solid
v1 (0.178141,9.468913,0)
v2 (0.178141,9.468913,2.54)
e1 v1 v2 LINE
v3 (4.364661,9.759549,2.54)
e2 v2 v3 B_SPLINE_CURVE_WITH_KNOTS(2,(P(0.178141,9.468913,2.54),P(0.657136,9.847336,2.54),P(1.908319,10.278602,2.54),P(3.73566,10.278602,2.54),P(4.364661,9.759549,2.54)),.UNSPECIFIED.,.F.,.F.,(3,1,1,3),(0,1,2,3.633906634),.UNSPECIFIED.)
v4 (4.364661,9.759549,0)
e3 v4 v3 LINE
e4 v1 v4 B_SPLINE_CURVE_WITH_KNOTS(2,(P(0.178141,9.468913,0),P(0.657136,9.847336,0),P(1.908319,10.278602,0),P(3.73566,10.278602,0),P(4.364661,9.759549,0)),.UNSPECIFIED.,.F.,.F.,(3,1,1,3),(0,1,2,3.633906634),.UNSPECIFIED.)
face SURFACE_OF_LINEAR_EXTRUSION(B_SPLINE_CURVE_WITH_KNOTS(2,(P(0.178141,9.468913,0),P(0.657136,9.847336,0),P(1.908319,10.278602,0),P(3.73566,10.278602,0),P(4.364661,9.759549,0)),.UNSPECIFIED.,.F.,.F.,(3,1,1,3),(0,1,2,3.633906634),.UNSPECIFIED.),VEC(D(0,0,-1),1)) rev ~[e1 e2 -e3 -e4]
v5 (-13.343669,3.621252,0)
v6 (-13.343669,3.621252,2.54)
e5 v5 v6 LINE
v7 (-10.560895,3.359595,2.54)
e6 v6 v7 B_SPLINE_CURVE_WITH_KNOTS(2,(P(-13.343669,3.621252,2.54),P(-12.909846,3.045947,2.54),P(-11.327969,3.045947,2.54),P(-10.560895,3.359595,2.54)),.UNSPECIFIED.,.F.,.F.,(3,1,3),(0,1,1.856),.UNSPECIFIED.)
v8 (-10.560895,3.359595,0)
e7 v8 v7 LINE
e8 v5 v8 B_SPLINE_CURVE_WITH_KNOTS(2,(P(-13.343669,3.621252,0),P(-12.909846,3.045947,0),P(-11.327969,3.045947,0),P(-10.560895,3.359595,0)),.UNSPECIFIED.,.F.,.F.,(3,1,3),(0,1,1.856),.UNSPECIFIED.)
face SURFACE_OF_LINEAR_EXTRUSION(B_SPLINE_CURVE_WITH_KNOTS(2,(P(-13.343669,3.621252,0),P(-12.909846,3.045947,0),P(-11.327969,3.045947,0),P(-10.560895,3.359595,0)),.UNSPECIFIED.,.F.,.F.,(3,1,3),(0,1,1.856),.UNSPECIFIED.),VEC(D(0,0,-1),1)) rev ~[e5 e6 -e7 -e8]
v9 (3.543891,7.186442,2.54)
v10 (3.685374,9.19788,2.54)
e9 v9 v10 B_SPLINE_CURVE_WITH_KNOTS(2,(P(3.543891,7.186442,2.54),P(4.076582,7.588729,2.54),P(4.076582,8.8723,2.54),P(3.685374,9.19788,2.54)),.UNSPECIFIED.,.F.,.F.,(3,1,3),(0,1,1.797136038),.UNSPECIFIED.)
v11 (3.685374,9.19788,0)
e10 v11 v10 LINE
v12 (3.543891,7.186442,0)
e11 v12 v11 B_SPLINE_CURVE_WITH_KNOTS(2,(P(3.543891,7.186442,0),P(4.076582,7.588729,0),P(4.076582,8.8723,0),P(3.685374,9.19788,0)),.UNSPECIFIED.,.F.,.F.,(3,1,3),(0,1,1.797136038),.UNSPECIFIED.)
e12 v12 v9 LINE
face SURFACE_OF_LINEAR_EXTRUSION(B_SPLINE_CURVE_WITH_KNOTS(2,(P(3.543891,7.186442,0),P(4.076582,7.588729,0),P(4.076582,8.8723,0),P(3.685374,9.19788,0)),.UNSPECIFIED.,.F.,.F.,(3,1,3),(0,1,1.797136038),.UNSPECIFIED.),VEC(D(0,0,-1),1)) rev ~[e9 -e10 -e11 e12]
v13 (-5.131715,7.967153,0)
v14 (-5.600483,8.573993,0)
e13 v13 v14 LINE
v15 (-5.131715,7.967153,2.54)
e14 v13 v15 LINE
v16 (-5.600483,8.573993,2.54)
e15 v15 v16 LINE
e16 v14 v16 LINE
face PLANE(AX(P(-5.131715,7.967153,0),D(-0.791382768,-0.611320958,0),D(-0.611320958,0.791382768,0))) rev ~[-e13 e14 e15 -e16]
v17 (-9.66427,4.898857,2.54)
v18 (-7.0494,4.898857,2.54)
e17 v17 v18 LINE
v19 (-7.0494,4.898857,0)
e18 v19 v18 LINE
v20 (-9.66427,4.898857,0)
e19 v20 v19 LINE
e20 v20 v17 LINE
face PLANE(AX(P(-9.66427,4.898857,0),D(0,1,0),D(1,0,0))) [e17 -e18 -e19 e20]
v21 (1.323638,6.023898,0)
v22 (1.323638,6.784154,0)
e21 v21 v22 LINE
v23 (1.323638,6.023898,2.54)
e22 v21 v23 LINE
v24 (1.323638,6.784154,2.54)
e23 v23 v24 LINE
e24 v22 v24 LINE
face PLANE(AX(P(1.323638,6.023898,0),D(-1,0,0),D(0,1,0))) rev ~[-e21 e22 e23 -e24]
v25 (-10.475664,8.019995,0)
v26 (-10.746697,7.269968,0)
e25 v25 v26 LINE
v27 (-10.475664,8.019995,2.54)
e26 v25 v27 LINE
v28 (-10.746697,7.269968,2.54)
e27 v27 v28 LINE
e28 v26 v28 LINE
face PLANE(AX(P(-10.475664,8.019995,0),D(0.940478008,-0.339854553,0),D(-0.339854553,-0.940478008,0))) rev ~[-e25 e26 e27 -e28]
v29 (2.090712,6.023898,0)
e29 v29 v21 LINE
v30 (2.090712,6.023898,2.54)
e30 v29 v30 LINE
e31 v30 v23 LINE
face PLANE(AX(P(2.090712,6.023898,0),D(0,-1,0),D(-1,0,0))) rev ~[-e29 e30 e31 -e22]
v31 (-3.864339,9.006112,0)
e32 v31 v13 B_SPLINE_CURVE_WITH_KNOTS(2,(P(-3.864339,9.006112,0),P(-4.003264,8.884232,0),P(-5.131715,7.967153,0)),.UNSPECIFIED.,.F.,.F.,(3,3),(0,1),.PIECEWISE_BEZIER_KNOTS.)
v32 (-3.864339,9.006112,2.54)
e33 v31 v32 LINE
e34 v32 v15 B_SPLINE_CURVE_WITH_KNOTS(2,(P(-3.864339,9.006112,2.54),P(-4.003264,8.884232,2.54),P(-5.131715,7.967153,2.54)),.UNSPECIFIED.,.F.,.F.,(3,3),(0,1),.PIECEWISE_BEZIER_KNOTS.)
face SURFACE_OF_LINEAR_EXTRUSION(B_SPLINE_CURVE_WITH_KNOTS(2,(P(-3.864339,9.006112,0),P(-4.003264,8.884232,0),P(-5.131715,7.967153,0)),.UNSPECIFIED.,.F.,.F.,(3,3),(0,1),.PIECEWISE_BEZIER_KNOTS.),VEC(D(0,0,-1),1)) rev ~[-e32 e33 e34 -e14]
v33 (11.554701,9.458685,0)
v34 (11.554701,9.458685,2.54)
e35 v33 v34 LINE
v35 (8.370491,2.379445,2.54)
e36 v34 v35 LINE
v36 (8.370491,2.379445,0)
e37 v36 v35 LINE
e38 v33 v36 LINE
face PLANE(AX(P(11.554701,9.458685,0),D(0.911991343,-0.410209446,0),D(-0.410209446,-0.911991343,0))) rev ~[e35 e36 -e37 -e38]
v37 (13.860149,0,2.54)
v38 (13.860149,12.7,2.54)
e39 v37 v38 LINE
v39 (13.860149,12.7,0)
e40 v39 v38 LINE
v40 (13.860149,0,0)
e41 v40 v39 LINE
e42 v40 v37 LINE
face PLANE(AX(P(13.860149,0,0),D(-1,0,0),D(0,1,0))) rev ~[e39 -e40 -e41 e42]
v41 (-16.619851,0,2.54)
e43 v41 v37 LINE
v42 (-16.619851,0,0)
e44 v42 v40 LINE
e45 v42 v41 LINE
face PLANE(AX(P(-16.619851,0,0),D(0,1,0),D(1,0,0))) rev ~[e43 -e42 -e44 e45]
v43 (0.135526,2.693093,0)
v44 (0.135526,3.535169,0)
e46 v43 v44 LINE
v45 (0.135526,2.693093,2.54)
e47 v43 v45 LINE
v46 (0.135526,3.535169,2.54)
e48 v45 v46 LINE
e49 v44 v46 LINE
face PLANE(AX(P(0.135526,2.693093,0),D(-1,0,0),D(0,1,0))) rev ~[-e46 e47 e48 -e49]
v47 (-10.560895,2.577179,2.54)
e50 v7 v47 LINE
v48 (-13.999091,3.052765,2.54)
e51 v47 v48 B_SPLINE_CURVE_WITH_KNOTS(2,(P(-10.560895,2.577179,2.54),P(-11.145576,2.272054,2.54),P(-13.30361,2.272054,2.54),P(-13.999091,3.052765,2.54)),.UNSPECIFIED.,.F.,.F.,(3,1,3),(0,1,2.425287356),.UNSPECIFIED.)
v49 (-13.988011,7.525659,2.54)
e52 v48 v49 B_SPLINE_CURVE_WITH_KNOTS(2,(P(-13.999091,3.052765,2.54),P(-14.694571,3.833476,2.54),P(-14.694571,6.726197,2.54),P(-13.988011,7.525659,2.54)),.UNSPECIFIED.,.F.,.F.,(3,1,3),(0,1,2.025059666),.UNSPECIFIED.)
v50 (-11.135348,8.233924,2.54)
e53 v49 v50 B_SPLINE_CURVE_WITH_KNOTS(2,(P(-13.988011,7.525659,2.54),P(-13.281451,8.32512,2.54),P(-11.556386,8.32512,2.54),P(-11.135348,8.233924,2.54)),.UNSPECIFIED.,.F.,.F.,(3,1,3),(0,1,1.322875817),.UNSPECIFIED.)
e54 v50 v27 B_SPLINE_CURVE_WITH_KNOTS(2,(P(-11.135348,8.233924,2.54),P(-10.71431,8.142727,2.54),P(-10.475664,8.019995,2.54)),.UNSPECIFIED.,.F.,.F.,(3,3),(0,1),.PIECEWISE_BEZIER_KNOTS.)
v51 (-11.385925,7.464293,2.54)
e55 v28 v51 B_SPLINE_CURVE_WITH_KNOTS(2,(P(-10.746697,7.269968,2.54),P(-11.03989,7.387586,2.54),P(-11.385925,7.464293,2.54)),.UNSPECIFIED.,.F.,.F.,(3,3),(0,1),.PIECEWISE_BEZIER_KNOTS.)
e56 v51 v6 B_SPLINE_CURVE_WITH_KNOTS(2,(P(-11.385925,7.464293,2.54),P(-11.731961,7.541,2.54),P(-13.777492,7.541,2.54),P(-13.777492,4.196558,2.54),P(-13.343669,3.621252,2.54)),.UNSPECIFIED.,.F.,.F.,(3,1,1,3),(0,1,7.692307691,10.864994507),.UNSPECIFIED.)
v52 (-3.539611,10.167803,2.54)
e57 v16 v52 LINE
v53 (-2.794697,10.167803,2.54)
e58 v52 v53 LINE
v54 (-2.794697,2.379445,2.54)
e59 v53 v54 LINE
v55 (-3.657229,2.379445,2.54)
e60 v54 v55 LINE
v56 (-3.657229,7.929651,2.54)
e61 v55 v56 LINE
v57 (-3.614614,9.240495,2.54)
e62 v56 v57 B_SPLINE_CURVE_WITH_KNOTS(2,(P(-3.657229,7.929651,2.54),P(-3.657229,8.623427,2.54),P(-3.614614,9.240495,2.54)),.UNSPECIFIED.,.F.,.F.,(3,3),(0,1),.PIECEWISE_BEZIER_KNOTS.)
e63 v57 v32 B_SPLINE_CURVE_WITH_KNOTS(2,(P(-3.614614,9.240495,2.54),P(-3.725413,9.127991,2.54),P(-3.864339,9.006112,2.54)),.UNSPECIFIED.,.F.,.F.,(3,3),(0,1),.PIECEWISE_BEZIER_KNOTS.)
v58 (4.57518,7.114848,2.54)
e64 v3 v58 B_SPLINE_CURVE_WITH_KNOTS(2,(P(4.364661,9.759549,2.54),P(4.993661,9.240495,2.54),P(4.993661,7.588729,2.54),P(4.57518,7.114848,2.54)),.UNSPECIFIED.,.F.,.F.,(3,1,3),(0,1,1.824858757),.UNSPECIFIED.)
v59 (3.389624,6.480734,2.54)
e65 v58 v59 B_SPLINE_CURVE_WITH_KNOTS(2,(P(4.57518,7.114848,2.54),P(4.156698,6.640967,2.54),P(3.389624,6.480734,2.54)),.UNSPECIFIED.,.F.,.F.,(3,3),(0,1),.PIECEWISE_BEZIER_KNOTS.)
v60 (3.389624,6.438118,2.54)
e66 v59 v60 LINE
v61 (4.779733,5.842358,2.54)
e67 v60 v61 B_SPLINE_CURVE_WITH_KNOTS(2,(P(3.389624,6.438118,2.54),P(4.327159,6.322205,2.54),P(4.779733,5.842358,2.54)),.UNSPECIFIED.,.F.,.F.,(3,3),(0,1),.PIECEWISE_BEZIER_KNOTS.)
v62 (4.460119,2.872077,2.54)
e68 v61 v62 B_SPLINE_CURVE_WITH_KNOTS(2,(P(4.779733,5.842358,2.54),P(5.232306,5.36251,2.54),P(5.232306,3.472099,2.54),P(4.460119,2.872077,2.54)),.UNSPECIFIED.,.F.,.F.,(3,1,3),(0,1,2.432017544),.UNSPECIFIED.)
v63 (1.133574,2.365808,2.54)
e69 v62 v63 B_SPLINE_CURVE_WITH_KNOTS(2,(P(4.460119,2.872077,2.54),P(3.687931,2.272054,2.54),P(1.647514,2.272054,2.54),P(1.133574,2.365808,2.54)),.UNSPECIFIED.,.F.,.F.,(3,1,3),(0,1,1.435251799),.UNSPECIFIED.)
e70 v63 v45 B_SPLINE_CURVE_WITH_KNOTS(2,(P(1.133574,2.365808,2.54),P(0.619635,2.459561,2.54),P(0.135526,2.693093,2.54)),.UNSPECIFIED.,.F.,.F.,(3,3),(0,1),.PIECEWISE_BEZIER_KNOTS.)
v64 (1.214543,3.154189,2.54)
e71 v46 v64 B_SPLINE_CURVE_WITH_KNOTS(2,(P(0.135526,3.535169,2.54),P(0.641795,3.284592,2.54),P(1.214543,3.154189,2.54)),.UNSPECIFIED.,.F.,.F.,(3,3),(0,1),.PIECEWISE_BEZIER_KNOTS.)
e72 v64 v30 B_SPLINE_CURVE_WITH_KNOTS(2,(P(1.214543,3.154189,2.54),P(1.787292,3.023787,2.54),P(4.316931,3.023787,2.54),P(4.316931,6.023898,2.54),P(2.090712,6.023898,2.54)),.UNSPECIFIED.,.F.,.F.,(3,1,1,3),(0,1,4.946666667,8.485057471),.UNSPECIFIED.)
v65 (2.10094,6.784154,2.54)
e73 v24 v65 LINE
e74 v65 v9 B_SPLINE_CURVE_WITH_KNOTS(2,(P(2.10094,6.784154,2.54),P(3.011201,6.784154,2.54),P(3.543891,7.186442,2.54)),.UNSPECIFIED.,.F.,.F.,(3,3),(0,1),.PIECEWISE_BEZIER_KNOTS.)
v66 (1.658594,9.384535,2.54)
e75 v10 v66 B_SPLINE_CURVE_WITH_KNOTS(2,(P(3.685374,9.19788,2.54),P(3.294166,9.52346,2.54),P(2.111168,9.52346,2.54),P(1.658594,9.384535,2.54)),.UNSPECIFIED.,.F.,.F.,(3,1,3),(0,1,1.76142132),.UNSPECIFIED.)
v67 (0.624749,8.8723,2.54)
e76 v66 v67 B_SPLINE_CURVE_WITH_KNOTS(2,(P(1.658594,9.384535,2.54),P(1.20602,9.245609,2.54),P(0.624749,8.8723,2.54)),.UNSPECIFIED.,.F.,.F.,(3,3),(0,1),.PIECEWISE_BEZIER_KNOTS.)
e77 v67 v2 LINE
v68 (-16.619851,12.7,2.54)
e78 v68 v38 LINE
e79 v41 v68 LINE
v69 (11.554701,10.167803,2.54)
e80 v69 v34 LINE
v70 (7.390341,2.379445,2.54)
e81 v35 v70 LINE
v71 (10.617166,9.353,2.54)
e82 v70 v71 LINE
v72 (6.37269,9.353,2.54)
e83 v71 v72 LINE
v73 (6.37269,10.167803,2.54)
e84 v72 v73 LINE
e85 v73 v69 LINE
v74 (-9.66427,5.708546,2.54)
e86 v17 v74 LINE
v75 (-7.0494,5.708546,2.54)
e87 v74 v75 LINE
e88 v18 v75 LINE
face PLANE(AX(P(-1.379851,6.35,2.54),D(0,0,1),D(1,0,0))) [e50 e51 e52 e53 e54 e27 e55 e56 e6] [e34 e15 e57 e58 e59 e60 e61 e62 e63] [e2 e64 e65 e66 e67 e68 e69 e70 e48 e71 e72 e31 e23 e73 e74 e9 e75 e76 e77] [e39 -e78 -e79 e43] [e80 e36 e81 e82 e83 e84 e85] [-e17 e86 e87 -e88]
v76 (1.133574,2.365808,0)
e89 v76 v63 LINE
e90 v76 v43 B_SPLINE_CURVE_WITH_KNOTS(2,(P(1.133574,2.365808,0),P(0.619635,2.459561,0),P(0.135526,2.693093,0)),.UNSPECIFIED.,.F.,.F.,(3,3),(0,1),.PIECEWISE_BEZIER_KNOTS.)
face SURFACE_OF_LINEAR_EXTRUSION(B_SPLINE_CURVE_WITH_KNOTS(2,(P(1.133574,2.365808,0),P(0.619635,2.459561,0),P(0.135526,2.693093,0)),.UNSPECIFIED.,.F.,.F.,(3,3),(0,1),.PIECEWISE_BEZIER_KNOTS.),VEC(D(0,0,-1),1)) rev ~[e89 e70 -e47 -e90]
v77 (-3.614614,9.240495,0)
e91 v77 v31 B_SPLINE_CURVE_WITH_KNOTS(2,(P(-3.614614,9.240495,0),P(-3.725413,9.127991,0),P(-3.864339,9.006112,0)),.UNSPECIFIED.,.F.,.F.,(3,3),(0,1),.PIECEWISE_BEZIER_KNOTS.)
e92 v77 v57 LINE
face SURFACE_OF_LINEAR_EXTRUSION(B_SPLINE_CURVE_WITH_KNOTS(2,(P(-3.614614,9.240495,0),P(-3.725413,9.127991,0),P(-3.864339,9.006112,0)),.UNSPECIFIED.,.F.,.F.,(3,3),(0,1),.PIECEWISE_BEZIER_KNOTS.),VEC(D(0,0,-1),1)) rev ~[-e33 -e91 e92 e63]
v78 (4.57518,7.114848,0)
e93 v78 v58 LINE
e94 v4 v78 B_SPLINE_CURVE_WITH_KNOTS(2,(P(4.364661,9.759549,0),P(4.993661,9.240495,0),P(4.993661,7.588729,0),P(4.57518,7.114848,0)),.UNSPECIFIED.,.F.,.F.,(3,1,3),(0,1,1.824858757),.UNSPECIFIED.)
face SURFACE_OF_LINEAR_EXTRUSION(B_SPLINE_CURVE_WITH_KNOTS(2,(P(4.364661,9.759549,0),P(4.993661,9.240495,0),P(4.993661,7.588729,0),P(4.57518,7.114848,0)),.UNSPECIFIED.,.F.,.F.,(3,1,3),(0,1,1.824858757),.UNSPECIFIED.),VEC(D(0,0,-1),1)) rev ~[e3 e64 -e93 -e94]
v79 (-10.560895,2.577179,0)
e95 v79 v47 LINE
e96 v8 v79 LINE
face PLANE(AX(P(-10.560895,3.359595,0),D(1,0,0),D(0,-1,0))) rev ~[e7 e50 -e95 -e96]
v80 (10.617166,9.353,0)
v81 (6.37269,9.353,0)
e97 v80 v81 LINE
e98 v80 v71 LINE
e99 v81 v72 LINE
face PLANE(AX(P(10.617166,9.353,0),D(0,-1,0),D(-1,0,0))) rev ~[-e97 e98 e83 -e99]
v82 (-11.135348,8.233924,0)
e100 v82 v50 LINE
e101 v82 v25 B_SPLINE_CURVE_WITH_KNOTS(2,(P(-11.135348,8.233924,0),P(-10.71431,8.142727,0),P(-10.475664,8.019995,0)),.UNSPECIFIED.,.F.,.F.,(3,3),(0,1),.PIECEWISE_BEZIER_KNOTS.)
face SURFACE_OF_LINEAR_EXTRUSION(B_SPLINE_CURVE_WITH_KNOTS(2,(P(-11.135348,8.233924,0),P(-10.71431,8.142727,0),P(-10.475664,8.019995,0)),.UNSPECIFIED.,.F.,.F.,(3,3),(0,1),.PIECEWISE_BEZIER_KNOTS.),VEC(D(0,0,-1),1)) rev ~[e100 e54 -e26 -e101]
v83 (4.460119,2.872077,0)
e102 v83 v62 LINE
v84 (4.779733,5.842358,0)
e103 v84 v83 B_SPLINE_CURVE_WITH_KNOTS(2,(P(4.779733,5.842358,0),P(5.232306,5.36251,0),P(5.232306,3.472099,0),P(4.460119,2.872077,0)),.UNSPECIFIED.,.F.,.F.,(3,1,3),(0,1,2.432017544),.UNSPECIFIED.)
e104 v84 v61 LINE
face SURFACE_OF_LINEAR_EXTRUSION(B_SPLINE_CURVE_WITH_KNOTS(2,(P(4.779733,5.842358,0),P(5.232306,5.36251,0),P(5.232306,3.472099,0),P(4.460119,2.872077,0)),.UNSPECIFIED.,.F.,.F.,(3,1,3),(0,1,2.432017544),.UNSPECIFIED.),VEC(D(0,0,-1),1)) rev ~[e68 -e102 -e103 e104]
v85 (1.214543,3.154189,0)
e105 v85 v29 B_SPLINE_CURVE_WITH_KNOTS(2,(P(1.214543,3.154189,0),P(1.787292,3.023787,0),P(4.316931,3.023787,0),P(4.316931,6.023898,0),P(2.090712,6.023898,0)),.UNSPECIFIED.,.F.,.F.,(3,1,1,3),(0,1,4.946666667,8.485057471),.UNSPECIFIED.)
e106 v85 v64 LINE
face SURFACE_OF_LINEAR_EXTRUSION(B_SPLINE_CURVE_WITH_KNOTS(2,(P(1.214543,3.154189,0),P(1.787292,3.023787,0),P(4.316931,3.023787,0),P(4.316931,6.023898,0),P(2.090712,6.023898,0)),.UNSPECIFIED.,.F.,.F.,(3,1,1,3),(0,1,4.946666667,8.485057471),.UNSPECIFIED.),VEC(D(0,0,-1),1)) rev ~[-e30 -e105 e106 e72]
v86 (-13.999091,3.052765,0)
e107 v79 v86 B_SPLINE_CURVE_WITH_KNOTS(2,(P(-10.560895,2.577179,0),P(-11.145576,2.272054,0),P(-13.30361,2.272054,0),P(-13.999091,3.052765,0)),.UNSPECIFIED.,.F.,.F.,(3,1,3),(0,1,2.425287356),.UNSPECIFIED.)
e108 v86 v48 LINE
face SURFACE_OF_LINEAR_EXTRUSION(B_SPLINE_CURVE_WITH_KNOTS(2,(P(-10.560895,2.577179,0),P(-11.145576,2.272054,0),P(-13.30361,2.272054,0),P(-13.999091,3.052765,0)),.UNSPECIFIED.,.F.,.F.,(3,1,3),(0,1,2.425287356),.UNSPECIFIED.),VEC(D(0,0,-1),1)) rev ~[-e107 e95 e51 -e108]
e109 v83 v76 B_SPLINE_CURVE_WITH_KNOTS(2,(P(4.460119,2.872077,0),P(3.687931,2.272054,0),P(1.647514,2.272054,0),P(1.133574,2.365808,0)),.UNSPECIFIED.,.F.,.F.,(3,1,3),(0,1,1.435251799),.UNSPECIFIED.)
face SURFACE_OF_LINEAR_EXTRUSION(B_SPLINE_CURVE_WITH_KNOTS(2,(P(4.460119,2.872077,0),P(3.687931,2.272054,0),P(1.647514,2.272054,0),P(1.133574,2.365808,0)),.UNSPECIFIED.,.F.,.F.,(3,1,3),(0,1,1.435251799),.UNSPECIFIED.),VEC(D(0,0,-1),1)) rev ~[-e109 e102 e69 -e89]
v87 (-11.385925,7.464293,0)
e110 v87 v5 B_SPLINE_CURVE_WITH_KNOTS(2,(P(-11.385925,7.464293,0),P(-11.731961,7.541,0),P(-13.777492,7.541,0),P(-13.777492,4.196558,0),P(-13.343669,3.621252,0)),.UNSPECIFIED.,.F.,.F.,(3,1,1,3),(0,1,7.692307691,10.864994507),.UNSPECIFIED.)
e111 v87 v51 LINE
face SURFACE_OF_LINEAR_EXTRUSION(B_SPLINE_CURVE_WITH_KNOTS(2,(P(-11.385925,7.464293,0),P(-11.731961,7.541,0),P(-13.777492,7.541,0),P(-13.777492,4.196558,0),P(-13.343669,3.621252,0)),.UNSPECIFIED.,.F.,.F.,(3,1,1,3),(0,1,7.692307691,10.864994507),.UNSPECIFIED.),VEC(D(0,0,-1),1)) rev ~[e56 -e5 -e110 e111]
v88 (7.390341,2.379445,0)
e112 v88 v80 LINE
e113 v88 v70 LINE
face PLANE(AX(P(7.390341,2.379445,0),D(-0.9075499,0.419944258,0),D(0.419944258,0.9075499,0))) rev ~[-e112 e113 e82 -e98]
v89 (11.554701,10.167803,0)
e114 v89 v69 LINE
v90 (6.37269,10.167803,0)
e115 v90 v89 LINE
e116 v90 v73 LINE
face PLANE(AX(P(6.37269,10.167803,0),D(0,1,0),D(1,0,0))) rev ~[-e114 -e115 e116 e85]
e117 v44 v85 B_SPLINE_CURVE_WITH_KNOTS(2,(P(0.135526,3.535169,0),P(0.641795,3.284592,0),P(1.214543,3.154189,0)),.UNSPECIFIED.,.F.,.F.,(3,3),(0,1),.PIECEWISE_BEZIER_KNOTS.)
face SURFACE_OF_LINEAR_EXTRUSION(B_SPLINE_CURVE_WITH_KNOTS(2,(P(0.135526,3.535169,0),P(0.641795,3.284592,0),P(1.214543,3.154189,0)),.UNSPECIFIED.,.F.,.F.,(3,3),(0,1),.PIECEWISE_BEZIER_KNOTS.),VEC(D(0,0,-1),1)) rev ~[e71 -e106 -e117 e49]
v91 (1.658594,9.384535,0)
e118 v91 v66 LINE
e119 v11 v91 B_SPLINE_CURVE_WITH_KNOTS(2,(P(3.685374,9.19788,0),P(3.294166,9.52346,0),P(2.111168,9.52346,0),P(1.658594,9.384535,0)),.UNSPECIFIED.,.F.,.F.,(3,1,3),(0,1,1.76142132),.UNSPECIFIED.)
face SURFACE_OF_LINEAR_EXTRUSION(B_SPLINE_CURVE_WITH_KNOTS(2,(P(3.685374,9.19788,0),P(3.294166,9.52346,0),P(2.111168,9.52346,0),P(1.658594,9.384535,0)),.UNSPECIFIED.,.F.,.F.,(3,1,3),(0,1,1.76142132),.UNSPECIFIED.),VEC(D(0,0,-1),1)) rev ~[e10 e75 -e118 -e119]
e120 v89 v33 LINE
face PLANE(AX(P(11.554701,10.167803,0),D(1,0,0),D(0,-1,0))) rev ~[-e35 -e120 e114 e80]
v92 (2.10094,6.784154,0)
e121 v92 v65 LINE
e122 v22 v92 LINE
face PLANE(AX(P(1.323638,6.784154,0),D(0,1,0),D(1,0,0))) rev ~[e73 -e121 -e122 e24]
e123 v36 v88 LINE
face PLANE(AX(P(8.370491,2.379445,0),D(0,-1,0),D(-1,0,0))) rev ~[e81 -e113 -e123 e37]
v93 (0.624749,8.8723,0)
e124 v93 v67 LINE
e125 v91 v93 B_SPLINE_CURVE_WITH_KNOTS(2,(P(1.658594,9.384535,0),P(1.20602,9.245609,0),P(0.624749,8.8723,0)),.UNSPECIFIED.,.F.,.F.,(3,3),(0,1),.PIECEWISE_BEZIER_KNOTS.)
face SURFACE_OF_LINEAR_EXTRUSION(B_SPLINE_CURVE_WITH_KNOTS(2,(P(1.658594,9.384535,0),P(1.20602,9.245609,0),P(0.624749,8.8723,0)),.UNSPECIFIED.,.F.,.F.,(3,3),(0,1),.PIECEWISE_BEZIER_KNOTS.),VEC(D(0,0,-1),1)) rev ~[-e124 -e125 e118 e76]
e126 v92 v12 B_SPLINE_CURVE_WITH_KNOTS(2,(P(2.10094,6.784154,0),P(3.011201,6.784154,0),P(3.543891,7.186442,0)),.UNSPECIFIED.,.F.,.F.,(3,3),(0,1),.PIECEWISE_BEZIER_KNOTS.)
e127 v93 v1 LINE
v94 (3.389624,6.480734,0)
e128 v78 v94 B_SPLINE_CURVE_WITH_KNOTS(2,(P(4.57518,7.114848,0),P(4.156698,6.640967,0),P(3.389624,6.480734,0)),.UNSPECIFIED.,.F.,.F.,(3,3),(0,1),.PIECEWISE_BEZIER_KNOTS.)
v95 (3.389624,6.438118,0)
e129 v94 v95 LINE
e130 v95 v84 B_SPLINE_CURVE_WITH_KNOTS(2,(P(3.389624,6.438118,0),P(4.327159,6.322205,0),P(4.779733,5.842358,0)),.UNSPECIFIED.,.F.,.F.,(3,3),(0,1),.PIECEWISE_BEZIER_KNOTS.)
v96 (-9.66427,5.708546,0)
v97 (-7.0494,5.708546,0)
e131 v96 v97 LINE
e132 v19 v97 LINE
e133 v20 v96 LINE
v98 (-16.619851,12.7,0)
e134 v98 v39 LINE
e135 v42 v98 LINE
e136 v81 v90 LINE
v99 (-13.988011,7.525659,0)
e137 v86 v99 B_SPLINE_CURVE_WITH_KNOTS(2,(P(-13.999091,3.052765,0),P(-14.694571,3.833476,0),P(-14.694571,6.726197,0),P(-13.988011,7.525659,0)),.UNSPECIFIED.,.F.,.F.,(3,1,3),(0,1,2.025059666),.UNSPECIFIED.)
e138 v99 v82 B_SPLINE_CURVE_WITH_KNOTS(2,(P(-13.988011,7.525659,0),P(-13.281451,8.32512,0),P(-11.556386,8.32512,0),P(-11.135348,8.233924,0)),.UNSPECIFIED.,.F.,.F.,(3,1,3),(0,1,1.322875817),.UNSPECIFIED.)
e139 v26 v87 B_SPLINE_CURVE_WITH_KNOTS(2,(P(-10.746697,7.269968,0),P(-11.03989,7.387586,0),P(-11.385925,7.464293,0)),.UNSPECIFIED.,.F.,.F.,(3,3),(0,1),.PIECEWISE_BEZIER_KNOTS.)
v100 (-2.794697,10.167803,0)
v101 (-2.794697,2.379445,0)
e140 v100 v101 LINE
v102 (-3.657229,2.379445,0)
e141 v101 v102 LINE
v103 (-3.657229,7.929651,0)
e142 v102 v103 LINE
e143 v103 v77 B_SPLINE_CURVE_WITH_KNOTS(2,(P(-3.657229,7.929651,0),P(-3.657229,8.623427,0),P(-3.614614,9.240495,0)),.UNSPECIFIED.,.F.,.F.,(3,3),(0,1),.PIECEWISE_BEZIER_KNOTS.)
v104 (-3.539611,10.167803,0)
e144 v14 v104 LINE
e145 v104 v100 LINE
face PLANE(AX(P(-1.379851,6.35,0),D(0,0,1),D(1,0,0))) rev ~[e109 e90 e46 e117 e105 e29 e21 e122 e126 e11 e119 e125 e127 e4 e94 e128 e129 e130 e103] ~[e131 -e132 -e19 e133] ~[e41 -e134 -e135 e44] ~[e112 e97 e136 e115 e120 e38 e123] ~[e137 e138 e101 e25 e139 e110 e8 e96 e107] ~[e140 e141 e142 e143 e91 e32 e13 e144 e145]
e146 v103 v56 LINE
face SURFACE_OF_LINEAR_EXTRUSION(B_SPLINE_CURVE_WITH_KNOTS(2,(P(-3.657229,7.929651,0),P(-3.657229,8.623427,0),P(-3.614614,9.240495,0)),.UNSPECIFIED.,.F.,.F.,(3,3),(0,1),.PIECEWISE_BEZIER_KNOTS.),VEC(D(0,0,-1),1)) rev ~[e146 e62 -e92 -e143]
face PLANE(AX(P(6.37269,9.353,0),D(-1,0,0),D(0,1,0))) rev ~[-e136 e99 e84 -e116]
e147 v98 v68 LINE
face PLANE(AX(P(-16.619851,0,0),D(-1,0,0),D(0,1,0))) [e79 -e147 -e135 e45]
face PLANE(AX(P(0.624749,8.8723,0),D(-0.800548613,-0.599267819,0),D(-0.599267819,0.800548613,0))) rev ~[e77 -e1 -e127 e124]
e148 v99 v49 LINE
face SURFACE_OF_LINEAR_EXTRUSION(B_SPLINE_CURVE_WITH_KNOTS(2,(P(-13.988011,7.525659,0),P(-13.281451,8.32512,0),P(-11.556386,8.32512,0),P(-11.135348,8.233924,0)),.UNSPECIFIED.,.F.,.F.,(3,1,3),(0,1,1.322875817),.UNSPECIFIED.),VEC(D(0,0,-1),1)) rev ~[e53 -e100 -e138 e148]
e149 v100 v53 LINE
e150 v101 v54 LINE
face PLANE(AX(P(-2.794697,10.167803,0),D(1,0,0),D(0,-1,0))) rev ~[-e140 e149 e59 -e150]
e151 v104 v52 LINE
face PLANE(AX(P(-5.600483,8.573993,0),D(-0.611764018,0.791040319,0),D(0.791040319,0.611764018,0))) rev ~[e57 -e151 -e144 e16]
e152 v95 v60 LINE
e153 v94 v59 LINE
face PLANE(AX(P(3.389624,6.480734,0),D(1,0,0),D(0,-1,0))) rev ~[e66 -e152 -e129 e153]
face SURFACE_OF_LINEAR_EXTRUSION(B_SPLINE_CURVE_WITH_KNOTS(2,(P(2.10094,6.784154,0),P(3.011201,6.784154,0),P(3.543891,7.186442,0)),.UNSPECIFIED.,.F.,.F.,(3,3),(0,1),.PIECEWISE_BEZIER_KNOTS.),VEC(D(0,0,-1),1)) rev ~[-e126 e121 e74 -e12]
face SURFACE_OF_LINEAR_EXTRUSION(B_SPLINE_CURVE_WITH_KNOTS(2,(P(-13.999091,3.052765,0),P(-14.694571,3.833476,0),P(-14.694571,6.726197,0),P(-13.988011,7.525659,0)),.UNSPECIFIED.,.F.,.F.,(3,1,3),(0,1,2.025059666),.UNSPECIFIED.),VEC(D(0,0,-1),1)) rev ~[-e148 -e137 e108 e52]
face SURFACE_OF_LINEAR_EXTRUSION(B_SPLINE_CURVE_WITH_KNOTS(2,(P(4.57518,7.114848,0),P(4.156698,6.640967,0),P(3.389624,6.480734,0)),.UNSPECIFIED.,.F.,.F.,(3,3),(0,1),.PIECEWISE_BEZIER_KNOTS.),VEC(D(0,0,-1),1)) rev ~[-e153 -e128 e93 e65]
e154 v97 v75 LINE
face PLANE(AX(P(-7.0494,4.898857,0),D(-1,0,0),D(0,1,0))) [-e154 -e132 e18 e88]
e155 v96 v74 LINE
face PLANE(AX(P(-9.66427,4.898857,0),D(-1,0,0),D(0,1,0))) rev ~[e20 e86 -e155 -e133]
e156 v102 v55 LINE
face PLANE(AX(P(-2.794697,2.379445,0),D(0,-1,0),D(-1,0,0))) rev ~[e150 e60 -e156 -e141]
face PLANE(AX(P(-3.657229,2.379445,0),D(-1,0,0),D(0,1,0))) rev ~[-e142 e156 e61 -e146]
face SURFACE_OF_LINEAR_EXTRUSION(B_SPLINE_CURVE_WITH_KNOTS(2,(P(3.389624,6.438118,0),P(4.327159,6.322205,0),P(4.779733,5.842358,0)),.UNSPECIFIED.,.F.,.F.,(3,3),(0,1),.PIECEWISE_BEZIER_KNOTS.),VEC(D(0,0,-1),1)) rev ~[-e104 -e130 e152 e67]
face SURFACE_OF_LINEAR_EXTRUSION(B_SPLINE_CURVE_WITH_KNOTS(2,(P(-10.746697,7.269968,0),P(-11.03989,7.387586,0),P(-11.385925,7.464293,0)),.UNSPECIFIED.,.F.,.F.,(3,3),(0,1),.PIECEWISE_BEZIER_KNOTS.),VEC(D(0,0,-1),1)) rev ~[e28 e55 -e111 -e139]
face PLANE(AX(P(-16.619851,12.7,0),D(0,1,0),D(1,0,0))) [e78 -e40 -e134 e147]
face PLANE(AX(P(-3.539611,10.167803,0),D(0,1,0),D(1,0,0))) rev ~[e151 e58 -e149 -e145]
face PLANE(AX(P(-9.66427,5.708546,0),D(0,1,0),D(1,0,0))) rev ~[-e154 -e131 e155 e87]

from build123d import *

# Parameters (mm, degrees)
F0_W     = 30.48
F0_H     = 12.7
F0_W_2   = 2.6148700127
F0_H_2   = 0.8096892152
F1_DEPTH = 2.54


with BuildPart() as f1:
    # F0 (on Top) → F1 (new body)
    with BuildSketch(Plane.XY):
        with Locations((-1.3798511758, 6.35)):
            Rectangle(F0_W, F0_H)
        with BuildLine():
            add(Edge.make_bspline(
                [(-10.5608947585, 2.57717929), (-11.1455756023, 2.2720543016), (-12.0353814345, 2.2720543016)],
                knots=[0, 0, 0, 1, 1, 1], degree=2))
            add(Edge.make_bspline(
                [(-12.0353814345, 2.2720543016), (-13.3036104368, 2.2720543016), (-13.9990908573, 3.0527651659)],
                knots=[0, 0, 0, 1, 1, 1], degree=2))
            add(Edge.make_bspline(
                [(-13.9990908573, 3.0527651659), (-14.6945712779, 3.8334760301), (-14.6945712779, 5.2619382666)],
                knots=[0, 0, 0, 1, 1, 1], degree=2))
            add(Edge.make_bspline(
                [(-14.6945712779, 5.2619382666), (-14.6945712779, 6.7261972893), (-13.9880108997, 7.5256588512)],
                knots=[0, 0, 0, 1, 1, 1], degree=2))
            add(Edge.make_bspline(
                [(-13.9880108997, 7.5256588512), (-13.2814505214, 8.3251204131), (-11.9774247328, 8.3251204131)],
                knots=[0, 0, 0, 1, 1, 1], degree=2))
            add(Edge.make_bspline(
                [(-11.9774247328, 8.3251204131), (-11.5563863409, 8.3251204131), (-11.135347949, 8.2339238384)],
                knots=[0, 0, 0, 1, 1, 1], degree=2))
            add(Edge.make_bspline(
                [(-11.135347949, 8.2339238384), (-10.7143095571, 8.1427272636), (-10.4756643148, 8.0199954247)],
                knots=[0, 0, 0, 1, 1, 1], degree=2))
            Line((-10.4756643148, 8.0199954247), (-10.7466971257, 7.2699675201))
            add(Edge.make_bspline(
                [(-10.7466971257, 7.2699675201), (-11.0398898521, 7.3875855324), (-11.3859254535, 7.4642929318)],
                knots=[0, 0, 0, 1, 1, 1], degree=2))
            add(Edge.make_bspline(
                [(-11.3859254535, 7.4642929318), (-11.7319610549, 7.5410003311), (-11.9978800393, 7.5410003311)],
                knots=[0, 0, 0, 1, 1, 1], degree=2))
            add(Edge.make_bspline(
                [(-11.9978800393, 7.5410003311), (-13.7774917037, 7.5410003311), (-13.7774917037, 5.2721659198)],
                knots=[0, 0, 0, 1, 1, 1], degree=2))
            add(Edge.make_bspline(
                [(-13.7774917037, 5.2721659198), (-13.7774917037, 4.1965577203), (-13.3436687453, 3.6212522253)],
                knots=[0, 0, 0, 1, 1, 1], degree=2))
            add(Edge.make_bspline(
                [(-13.3436687453, 3.6212522253), (-12.9098457869, 3.0459467304), (-12.0575413499, 3.0459467304)],
                knots=[0, 0, 0, 1, 1, 1], degree=2))
            add(Edge.make_bspline(
                [(-12.0575413499, 3.0459467304), (-11.3279687518, 3.0459467304), (-10.5608947585, 3.3595947632)],
                knots=[0, 0, 0, 1, 1, 1], degree=2))
            Line((-10.5608947585, 3.3595947632), (-10.5608947585, 2.57717929))
        make_face(mode=Mode.SUBTRACT)
        with Locations((-8.3568354844, 5.303701184)):
            Rectangle(F0_W_2, F0_H_2, mode=Mode.SUBTRACT)
        with BuildLine():
            Line((-2.7946967285, 10.1678026059), (-2.7946967285, 2.3794446606))
            Line((-2.7946967285, 2.3794446606), (-3.6572288188, 2.3794446606))
            Line((-3.6572288188, 2.3794446606), (-3.6572288188, 7.9296511544))
            add(Edge.make_bspline(
                [(-3.6572288188, 7.9296511544), (-3.6572288188, 8.6234269661), (-3.6146135969, 9.2404953785)],
                knots=[0, 0, 0, 1, 1, 1], degree=2))
            add(Edge.make_bspline(
                [(-3.6146135969, 9.2404953785), (-3.7254131737, 9.1279911928), (-3.864338797, 9.0061116583)],
                knots=[0, 0, 0, 1, 1, 1], degree=2))
            add(Edge.make_bspline(
                [(-3.864338797, 9.0061116583), (-4.0032644202, 8.8842321238), (-5.1317154948, 7.9671525496)],
                knots=[0, 0, 0, 1, 1, 1], degree=2))
            Line((-5.1317154948, 7.9671525496), (-5.6004829351, 8.5739933088))
            Line((-5.6004829351, 8.5739933088), (-3.5396108065, 10.1678026059))
            Line((-3.5396108065, 10.1678026059), (-2.7946967285, 10.1678026059))
        make_face(mode=Mode.SUBTRACT)
        with BuildLine():
            add(Edge.make_bspline(
                [(4.3646605423, 9.7595487806), (4.9936612168, 9.2404953785), (4.9936612168, 8.3353480664)],
                knots=[0, 0, 0, 1, 1, 1], degree=2))
            add(Edge.make_bspline(
                [(4.9936612168, 8.3353480664), (4.9936612168, 7.5887293796), (4.5751797382, 7.1148481126)],
                knots=[0, 0, 0, 1, 1, 1], degree=2))
            add(Edge.make_bspline(
                [(4.5751797382, 7.1148481126), (4.1566982597, 6.6409668456), (3.3896242664, 6.4807336115)],
                knots=[0, 0, 0, 1, 1, 1], degree=2))
            Line((3.3896242664, 6.4807336115), (3.3896242664, 6.4381183896))
            add(Edge.make_bspline(
                [(3.3896242664, 6.4381183896), (4.3271591471, 6.3222049862), (4.7797328031, 5.8423575882)],
                knots=[0, 0, 0, 1, 1, 1], degree=2))
            add(Edge.make_bspline(
                [(4.7797328031, 5.8423575882), (5.2323064592, 5.3625101901), (5.2323064592, 4.5852085436)],
                knots=[0, 0, 0, 1, 1, 1], degree=2))
            add(Edge.make_bspline(
                [(5.2323064592, 4.5852085436), (5.2323064592, 3.4720989489), (4.4601186392, 2.8720766252)],
                knots=[0, 0, 0, 1, 1, 1], degree=2))
            add(Edge.make_bspline(
                [(4.4601186392, 2.8720766252), (3.6879308193, 2.2720543016), (2.2662870184, 2.2720543016)],
                knots=[0, 0, 0, 1, 1, 1], degree=2))
            add(Edge.make_bspline(
                [(2.2662870184, 2.2720543016), (1.6475139971, 2.2720543016), (1.1335744216, 2.3658077896)],
                knots=[0, 0, 0, 1, 1, 1], degree=2))
            add(Edge.make_bspline(
                [(1.1335744216, 2.3658077896), (0.6196348461, 2.4595612777), (0.1355259259, 2.6930926934)],
                knots=[0, 0, 0, 1, 1, 1], degree=2))
            Line((0.1355259259, 2.6930926934), (0.1355259259, 3.5351694772))
            add(Edge.make_bspline(
                [(0.1355259259, 3.5351694772), (0.6417947615, 3.2845919727), (1.2145433431, 3.1541893939)],
                knots=[0, 0, 0, 1, 1, 1], degree=2))
            add(Edge.make_bspline(
                [(1.2145433431, 3.1541893939), (1.7872919248, 3.023786815), (2.298674587, 3.023786815)],
                knots=[0, 0, 0, 1, 1, 1], degree=2))
            add(Edge.make_bspline(
                [(2.298674587, 3.023786815), (4.3169314938, 3.023786815), (4.3169314938, 4.6056638501)],
                knots=[0, 0, 0, 1, 1, 1], degree=2))
            add(Edge.make_bspline(
                [(4.3169314938, 4.6056638501), (4.3169314938, 6.0238984332), (2.0907123044, 6.0238984332)],
                knots=[0, 0, 0, 1, 1, 1], degree=2))
            Line((2.0907123044, 6.0238984332), (1.3236383111, 6.0238984332))
            Line((1.3236383111, 6.0238984332), (1.3236383111, 6.784153991))
            Line((1.3236383111, 6.784153991), (2.1009399576, 6.784153991))
            add(Edge.make_bspline(
                [(2.1009399576, 6.784153991), (3.0112010963, 6.784153991), (3.5438913695, 7.1864416853)],
                knots=[0, 0, 0, 1, 1, 1], degree=2))
            add(Edge.make_bspline(
                [(3.5438913695, 7.1864416853), (4.0765816426, 7.5887293796), (4.0765816426, 8.3029604978)],
                knots=[0, 0, 0, 1, 1, 1], degree=2))
            add(Edge.make_bspline(
                [(4.0765816426, 8.3029604978), (4.0765816426, 8.8722998617), (3.685373906, 9.1978801566)],
                knots=[0, 0, 0, 1, 1, 1], degree=2))
            add(Edge.make_bspline(
                [(3.685373906, 9.1978801566), (3.2941661694, 9.5234604516), (2.6225502731, 9.5234604516)],
                knots=[0, 0, 0, 1, 1, 1], degree=2))
            add(Edge.make_bspline(
                [(2.6225502731, 9.5234604516), (2.1111676109, 9.5234604516), (1.6585939548, 9.3845348283)],
                knots=[0, 0, 0, 1, 1, 1], degree=2))
            add(Edge.make_bspline(
                [(1.6585939548, 9.3845348283), (1.2060202988, 9.2456092051), (0.6247486727, 8.8722998617)],
                knots=[0, 0, 0, 1, 1, 1], degree=2))
            Line((0.6247486727, 8.8722998617), (0.1781411477, 9.4689129676))
            add(Edge.make_bspline(
                [(0.1781411477, 9.4689129676), (0.6571362413, 9.8473361376), (1.2827276981, 10.0629691602)],
                knots=[0, 0, 0, 1, 1, 1], degree=2))
            add(Edge.make_bspline(
                [(1.2827276981, 10.0629691602), (1.9083191549, 10.2786021828), (2.6020949666, 10.2786021828)],
                knots=[0, 0, 0, 1, 1, 1], degree=2))
            add(Edge.make_bspline(
                [(2.6020949666, 10.2786021828), (3.7356598678, 10.2786021828), (4.3646605423, 9.7595487806)],
                knots=[0, 0, 0, 1, 1, 1], degree=2))
        make_face(mode=Mode.SUBTRACT)
        Polygon((8.3704913962, 2.3794446606), (7.3903412937, 2.3794446606), (10.6171658921, 9.3529995642), (6.3726897959, 9.3529995642), (6.3726897959, 10.1678026059), (11.5547007729, 10.1678026059), (11.5547007729, 9.4586853144), align=None, mode=Mode.SUBTRACT)
    extrude(amount=F1_DEPTH)


solid = f1.part
